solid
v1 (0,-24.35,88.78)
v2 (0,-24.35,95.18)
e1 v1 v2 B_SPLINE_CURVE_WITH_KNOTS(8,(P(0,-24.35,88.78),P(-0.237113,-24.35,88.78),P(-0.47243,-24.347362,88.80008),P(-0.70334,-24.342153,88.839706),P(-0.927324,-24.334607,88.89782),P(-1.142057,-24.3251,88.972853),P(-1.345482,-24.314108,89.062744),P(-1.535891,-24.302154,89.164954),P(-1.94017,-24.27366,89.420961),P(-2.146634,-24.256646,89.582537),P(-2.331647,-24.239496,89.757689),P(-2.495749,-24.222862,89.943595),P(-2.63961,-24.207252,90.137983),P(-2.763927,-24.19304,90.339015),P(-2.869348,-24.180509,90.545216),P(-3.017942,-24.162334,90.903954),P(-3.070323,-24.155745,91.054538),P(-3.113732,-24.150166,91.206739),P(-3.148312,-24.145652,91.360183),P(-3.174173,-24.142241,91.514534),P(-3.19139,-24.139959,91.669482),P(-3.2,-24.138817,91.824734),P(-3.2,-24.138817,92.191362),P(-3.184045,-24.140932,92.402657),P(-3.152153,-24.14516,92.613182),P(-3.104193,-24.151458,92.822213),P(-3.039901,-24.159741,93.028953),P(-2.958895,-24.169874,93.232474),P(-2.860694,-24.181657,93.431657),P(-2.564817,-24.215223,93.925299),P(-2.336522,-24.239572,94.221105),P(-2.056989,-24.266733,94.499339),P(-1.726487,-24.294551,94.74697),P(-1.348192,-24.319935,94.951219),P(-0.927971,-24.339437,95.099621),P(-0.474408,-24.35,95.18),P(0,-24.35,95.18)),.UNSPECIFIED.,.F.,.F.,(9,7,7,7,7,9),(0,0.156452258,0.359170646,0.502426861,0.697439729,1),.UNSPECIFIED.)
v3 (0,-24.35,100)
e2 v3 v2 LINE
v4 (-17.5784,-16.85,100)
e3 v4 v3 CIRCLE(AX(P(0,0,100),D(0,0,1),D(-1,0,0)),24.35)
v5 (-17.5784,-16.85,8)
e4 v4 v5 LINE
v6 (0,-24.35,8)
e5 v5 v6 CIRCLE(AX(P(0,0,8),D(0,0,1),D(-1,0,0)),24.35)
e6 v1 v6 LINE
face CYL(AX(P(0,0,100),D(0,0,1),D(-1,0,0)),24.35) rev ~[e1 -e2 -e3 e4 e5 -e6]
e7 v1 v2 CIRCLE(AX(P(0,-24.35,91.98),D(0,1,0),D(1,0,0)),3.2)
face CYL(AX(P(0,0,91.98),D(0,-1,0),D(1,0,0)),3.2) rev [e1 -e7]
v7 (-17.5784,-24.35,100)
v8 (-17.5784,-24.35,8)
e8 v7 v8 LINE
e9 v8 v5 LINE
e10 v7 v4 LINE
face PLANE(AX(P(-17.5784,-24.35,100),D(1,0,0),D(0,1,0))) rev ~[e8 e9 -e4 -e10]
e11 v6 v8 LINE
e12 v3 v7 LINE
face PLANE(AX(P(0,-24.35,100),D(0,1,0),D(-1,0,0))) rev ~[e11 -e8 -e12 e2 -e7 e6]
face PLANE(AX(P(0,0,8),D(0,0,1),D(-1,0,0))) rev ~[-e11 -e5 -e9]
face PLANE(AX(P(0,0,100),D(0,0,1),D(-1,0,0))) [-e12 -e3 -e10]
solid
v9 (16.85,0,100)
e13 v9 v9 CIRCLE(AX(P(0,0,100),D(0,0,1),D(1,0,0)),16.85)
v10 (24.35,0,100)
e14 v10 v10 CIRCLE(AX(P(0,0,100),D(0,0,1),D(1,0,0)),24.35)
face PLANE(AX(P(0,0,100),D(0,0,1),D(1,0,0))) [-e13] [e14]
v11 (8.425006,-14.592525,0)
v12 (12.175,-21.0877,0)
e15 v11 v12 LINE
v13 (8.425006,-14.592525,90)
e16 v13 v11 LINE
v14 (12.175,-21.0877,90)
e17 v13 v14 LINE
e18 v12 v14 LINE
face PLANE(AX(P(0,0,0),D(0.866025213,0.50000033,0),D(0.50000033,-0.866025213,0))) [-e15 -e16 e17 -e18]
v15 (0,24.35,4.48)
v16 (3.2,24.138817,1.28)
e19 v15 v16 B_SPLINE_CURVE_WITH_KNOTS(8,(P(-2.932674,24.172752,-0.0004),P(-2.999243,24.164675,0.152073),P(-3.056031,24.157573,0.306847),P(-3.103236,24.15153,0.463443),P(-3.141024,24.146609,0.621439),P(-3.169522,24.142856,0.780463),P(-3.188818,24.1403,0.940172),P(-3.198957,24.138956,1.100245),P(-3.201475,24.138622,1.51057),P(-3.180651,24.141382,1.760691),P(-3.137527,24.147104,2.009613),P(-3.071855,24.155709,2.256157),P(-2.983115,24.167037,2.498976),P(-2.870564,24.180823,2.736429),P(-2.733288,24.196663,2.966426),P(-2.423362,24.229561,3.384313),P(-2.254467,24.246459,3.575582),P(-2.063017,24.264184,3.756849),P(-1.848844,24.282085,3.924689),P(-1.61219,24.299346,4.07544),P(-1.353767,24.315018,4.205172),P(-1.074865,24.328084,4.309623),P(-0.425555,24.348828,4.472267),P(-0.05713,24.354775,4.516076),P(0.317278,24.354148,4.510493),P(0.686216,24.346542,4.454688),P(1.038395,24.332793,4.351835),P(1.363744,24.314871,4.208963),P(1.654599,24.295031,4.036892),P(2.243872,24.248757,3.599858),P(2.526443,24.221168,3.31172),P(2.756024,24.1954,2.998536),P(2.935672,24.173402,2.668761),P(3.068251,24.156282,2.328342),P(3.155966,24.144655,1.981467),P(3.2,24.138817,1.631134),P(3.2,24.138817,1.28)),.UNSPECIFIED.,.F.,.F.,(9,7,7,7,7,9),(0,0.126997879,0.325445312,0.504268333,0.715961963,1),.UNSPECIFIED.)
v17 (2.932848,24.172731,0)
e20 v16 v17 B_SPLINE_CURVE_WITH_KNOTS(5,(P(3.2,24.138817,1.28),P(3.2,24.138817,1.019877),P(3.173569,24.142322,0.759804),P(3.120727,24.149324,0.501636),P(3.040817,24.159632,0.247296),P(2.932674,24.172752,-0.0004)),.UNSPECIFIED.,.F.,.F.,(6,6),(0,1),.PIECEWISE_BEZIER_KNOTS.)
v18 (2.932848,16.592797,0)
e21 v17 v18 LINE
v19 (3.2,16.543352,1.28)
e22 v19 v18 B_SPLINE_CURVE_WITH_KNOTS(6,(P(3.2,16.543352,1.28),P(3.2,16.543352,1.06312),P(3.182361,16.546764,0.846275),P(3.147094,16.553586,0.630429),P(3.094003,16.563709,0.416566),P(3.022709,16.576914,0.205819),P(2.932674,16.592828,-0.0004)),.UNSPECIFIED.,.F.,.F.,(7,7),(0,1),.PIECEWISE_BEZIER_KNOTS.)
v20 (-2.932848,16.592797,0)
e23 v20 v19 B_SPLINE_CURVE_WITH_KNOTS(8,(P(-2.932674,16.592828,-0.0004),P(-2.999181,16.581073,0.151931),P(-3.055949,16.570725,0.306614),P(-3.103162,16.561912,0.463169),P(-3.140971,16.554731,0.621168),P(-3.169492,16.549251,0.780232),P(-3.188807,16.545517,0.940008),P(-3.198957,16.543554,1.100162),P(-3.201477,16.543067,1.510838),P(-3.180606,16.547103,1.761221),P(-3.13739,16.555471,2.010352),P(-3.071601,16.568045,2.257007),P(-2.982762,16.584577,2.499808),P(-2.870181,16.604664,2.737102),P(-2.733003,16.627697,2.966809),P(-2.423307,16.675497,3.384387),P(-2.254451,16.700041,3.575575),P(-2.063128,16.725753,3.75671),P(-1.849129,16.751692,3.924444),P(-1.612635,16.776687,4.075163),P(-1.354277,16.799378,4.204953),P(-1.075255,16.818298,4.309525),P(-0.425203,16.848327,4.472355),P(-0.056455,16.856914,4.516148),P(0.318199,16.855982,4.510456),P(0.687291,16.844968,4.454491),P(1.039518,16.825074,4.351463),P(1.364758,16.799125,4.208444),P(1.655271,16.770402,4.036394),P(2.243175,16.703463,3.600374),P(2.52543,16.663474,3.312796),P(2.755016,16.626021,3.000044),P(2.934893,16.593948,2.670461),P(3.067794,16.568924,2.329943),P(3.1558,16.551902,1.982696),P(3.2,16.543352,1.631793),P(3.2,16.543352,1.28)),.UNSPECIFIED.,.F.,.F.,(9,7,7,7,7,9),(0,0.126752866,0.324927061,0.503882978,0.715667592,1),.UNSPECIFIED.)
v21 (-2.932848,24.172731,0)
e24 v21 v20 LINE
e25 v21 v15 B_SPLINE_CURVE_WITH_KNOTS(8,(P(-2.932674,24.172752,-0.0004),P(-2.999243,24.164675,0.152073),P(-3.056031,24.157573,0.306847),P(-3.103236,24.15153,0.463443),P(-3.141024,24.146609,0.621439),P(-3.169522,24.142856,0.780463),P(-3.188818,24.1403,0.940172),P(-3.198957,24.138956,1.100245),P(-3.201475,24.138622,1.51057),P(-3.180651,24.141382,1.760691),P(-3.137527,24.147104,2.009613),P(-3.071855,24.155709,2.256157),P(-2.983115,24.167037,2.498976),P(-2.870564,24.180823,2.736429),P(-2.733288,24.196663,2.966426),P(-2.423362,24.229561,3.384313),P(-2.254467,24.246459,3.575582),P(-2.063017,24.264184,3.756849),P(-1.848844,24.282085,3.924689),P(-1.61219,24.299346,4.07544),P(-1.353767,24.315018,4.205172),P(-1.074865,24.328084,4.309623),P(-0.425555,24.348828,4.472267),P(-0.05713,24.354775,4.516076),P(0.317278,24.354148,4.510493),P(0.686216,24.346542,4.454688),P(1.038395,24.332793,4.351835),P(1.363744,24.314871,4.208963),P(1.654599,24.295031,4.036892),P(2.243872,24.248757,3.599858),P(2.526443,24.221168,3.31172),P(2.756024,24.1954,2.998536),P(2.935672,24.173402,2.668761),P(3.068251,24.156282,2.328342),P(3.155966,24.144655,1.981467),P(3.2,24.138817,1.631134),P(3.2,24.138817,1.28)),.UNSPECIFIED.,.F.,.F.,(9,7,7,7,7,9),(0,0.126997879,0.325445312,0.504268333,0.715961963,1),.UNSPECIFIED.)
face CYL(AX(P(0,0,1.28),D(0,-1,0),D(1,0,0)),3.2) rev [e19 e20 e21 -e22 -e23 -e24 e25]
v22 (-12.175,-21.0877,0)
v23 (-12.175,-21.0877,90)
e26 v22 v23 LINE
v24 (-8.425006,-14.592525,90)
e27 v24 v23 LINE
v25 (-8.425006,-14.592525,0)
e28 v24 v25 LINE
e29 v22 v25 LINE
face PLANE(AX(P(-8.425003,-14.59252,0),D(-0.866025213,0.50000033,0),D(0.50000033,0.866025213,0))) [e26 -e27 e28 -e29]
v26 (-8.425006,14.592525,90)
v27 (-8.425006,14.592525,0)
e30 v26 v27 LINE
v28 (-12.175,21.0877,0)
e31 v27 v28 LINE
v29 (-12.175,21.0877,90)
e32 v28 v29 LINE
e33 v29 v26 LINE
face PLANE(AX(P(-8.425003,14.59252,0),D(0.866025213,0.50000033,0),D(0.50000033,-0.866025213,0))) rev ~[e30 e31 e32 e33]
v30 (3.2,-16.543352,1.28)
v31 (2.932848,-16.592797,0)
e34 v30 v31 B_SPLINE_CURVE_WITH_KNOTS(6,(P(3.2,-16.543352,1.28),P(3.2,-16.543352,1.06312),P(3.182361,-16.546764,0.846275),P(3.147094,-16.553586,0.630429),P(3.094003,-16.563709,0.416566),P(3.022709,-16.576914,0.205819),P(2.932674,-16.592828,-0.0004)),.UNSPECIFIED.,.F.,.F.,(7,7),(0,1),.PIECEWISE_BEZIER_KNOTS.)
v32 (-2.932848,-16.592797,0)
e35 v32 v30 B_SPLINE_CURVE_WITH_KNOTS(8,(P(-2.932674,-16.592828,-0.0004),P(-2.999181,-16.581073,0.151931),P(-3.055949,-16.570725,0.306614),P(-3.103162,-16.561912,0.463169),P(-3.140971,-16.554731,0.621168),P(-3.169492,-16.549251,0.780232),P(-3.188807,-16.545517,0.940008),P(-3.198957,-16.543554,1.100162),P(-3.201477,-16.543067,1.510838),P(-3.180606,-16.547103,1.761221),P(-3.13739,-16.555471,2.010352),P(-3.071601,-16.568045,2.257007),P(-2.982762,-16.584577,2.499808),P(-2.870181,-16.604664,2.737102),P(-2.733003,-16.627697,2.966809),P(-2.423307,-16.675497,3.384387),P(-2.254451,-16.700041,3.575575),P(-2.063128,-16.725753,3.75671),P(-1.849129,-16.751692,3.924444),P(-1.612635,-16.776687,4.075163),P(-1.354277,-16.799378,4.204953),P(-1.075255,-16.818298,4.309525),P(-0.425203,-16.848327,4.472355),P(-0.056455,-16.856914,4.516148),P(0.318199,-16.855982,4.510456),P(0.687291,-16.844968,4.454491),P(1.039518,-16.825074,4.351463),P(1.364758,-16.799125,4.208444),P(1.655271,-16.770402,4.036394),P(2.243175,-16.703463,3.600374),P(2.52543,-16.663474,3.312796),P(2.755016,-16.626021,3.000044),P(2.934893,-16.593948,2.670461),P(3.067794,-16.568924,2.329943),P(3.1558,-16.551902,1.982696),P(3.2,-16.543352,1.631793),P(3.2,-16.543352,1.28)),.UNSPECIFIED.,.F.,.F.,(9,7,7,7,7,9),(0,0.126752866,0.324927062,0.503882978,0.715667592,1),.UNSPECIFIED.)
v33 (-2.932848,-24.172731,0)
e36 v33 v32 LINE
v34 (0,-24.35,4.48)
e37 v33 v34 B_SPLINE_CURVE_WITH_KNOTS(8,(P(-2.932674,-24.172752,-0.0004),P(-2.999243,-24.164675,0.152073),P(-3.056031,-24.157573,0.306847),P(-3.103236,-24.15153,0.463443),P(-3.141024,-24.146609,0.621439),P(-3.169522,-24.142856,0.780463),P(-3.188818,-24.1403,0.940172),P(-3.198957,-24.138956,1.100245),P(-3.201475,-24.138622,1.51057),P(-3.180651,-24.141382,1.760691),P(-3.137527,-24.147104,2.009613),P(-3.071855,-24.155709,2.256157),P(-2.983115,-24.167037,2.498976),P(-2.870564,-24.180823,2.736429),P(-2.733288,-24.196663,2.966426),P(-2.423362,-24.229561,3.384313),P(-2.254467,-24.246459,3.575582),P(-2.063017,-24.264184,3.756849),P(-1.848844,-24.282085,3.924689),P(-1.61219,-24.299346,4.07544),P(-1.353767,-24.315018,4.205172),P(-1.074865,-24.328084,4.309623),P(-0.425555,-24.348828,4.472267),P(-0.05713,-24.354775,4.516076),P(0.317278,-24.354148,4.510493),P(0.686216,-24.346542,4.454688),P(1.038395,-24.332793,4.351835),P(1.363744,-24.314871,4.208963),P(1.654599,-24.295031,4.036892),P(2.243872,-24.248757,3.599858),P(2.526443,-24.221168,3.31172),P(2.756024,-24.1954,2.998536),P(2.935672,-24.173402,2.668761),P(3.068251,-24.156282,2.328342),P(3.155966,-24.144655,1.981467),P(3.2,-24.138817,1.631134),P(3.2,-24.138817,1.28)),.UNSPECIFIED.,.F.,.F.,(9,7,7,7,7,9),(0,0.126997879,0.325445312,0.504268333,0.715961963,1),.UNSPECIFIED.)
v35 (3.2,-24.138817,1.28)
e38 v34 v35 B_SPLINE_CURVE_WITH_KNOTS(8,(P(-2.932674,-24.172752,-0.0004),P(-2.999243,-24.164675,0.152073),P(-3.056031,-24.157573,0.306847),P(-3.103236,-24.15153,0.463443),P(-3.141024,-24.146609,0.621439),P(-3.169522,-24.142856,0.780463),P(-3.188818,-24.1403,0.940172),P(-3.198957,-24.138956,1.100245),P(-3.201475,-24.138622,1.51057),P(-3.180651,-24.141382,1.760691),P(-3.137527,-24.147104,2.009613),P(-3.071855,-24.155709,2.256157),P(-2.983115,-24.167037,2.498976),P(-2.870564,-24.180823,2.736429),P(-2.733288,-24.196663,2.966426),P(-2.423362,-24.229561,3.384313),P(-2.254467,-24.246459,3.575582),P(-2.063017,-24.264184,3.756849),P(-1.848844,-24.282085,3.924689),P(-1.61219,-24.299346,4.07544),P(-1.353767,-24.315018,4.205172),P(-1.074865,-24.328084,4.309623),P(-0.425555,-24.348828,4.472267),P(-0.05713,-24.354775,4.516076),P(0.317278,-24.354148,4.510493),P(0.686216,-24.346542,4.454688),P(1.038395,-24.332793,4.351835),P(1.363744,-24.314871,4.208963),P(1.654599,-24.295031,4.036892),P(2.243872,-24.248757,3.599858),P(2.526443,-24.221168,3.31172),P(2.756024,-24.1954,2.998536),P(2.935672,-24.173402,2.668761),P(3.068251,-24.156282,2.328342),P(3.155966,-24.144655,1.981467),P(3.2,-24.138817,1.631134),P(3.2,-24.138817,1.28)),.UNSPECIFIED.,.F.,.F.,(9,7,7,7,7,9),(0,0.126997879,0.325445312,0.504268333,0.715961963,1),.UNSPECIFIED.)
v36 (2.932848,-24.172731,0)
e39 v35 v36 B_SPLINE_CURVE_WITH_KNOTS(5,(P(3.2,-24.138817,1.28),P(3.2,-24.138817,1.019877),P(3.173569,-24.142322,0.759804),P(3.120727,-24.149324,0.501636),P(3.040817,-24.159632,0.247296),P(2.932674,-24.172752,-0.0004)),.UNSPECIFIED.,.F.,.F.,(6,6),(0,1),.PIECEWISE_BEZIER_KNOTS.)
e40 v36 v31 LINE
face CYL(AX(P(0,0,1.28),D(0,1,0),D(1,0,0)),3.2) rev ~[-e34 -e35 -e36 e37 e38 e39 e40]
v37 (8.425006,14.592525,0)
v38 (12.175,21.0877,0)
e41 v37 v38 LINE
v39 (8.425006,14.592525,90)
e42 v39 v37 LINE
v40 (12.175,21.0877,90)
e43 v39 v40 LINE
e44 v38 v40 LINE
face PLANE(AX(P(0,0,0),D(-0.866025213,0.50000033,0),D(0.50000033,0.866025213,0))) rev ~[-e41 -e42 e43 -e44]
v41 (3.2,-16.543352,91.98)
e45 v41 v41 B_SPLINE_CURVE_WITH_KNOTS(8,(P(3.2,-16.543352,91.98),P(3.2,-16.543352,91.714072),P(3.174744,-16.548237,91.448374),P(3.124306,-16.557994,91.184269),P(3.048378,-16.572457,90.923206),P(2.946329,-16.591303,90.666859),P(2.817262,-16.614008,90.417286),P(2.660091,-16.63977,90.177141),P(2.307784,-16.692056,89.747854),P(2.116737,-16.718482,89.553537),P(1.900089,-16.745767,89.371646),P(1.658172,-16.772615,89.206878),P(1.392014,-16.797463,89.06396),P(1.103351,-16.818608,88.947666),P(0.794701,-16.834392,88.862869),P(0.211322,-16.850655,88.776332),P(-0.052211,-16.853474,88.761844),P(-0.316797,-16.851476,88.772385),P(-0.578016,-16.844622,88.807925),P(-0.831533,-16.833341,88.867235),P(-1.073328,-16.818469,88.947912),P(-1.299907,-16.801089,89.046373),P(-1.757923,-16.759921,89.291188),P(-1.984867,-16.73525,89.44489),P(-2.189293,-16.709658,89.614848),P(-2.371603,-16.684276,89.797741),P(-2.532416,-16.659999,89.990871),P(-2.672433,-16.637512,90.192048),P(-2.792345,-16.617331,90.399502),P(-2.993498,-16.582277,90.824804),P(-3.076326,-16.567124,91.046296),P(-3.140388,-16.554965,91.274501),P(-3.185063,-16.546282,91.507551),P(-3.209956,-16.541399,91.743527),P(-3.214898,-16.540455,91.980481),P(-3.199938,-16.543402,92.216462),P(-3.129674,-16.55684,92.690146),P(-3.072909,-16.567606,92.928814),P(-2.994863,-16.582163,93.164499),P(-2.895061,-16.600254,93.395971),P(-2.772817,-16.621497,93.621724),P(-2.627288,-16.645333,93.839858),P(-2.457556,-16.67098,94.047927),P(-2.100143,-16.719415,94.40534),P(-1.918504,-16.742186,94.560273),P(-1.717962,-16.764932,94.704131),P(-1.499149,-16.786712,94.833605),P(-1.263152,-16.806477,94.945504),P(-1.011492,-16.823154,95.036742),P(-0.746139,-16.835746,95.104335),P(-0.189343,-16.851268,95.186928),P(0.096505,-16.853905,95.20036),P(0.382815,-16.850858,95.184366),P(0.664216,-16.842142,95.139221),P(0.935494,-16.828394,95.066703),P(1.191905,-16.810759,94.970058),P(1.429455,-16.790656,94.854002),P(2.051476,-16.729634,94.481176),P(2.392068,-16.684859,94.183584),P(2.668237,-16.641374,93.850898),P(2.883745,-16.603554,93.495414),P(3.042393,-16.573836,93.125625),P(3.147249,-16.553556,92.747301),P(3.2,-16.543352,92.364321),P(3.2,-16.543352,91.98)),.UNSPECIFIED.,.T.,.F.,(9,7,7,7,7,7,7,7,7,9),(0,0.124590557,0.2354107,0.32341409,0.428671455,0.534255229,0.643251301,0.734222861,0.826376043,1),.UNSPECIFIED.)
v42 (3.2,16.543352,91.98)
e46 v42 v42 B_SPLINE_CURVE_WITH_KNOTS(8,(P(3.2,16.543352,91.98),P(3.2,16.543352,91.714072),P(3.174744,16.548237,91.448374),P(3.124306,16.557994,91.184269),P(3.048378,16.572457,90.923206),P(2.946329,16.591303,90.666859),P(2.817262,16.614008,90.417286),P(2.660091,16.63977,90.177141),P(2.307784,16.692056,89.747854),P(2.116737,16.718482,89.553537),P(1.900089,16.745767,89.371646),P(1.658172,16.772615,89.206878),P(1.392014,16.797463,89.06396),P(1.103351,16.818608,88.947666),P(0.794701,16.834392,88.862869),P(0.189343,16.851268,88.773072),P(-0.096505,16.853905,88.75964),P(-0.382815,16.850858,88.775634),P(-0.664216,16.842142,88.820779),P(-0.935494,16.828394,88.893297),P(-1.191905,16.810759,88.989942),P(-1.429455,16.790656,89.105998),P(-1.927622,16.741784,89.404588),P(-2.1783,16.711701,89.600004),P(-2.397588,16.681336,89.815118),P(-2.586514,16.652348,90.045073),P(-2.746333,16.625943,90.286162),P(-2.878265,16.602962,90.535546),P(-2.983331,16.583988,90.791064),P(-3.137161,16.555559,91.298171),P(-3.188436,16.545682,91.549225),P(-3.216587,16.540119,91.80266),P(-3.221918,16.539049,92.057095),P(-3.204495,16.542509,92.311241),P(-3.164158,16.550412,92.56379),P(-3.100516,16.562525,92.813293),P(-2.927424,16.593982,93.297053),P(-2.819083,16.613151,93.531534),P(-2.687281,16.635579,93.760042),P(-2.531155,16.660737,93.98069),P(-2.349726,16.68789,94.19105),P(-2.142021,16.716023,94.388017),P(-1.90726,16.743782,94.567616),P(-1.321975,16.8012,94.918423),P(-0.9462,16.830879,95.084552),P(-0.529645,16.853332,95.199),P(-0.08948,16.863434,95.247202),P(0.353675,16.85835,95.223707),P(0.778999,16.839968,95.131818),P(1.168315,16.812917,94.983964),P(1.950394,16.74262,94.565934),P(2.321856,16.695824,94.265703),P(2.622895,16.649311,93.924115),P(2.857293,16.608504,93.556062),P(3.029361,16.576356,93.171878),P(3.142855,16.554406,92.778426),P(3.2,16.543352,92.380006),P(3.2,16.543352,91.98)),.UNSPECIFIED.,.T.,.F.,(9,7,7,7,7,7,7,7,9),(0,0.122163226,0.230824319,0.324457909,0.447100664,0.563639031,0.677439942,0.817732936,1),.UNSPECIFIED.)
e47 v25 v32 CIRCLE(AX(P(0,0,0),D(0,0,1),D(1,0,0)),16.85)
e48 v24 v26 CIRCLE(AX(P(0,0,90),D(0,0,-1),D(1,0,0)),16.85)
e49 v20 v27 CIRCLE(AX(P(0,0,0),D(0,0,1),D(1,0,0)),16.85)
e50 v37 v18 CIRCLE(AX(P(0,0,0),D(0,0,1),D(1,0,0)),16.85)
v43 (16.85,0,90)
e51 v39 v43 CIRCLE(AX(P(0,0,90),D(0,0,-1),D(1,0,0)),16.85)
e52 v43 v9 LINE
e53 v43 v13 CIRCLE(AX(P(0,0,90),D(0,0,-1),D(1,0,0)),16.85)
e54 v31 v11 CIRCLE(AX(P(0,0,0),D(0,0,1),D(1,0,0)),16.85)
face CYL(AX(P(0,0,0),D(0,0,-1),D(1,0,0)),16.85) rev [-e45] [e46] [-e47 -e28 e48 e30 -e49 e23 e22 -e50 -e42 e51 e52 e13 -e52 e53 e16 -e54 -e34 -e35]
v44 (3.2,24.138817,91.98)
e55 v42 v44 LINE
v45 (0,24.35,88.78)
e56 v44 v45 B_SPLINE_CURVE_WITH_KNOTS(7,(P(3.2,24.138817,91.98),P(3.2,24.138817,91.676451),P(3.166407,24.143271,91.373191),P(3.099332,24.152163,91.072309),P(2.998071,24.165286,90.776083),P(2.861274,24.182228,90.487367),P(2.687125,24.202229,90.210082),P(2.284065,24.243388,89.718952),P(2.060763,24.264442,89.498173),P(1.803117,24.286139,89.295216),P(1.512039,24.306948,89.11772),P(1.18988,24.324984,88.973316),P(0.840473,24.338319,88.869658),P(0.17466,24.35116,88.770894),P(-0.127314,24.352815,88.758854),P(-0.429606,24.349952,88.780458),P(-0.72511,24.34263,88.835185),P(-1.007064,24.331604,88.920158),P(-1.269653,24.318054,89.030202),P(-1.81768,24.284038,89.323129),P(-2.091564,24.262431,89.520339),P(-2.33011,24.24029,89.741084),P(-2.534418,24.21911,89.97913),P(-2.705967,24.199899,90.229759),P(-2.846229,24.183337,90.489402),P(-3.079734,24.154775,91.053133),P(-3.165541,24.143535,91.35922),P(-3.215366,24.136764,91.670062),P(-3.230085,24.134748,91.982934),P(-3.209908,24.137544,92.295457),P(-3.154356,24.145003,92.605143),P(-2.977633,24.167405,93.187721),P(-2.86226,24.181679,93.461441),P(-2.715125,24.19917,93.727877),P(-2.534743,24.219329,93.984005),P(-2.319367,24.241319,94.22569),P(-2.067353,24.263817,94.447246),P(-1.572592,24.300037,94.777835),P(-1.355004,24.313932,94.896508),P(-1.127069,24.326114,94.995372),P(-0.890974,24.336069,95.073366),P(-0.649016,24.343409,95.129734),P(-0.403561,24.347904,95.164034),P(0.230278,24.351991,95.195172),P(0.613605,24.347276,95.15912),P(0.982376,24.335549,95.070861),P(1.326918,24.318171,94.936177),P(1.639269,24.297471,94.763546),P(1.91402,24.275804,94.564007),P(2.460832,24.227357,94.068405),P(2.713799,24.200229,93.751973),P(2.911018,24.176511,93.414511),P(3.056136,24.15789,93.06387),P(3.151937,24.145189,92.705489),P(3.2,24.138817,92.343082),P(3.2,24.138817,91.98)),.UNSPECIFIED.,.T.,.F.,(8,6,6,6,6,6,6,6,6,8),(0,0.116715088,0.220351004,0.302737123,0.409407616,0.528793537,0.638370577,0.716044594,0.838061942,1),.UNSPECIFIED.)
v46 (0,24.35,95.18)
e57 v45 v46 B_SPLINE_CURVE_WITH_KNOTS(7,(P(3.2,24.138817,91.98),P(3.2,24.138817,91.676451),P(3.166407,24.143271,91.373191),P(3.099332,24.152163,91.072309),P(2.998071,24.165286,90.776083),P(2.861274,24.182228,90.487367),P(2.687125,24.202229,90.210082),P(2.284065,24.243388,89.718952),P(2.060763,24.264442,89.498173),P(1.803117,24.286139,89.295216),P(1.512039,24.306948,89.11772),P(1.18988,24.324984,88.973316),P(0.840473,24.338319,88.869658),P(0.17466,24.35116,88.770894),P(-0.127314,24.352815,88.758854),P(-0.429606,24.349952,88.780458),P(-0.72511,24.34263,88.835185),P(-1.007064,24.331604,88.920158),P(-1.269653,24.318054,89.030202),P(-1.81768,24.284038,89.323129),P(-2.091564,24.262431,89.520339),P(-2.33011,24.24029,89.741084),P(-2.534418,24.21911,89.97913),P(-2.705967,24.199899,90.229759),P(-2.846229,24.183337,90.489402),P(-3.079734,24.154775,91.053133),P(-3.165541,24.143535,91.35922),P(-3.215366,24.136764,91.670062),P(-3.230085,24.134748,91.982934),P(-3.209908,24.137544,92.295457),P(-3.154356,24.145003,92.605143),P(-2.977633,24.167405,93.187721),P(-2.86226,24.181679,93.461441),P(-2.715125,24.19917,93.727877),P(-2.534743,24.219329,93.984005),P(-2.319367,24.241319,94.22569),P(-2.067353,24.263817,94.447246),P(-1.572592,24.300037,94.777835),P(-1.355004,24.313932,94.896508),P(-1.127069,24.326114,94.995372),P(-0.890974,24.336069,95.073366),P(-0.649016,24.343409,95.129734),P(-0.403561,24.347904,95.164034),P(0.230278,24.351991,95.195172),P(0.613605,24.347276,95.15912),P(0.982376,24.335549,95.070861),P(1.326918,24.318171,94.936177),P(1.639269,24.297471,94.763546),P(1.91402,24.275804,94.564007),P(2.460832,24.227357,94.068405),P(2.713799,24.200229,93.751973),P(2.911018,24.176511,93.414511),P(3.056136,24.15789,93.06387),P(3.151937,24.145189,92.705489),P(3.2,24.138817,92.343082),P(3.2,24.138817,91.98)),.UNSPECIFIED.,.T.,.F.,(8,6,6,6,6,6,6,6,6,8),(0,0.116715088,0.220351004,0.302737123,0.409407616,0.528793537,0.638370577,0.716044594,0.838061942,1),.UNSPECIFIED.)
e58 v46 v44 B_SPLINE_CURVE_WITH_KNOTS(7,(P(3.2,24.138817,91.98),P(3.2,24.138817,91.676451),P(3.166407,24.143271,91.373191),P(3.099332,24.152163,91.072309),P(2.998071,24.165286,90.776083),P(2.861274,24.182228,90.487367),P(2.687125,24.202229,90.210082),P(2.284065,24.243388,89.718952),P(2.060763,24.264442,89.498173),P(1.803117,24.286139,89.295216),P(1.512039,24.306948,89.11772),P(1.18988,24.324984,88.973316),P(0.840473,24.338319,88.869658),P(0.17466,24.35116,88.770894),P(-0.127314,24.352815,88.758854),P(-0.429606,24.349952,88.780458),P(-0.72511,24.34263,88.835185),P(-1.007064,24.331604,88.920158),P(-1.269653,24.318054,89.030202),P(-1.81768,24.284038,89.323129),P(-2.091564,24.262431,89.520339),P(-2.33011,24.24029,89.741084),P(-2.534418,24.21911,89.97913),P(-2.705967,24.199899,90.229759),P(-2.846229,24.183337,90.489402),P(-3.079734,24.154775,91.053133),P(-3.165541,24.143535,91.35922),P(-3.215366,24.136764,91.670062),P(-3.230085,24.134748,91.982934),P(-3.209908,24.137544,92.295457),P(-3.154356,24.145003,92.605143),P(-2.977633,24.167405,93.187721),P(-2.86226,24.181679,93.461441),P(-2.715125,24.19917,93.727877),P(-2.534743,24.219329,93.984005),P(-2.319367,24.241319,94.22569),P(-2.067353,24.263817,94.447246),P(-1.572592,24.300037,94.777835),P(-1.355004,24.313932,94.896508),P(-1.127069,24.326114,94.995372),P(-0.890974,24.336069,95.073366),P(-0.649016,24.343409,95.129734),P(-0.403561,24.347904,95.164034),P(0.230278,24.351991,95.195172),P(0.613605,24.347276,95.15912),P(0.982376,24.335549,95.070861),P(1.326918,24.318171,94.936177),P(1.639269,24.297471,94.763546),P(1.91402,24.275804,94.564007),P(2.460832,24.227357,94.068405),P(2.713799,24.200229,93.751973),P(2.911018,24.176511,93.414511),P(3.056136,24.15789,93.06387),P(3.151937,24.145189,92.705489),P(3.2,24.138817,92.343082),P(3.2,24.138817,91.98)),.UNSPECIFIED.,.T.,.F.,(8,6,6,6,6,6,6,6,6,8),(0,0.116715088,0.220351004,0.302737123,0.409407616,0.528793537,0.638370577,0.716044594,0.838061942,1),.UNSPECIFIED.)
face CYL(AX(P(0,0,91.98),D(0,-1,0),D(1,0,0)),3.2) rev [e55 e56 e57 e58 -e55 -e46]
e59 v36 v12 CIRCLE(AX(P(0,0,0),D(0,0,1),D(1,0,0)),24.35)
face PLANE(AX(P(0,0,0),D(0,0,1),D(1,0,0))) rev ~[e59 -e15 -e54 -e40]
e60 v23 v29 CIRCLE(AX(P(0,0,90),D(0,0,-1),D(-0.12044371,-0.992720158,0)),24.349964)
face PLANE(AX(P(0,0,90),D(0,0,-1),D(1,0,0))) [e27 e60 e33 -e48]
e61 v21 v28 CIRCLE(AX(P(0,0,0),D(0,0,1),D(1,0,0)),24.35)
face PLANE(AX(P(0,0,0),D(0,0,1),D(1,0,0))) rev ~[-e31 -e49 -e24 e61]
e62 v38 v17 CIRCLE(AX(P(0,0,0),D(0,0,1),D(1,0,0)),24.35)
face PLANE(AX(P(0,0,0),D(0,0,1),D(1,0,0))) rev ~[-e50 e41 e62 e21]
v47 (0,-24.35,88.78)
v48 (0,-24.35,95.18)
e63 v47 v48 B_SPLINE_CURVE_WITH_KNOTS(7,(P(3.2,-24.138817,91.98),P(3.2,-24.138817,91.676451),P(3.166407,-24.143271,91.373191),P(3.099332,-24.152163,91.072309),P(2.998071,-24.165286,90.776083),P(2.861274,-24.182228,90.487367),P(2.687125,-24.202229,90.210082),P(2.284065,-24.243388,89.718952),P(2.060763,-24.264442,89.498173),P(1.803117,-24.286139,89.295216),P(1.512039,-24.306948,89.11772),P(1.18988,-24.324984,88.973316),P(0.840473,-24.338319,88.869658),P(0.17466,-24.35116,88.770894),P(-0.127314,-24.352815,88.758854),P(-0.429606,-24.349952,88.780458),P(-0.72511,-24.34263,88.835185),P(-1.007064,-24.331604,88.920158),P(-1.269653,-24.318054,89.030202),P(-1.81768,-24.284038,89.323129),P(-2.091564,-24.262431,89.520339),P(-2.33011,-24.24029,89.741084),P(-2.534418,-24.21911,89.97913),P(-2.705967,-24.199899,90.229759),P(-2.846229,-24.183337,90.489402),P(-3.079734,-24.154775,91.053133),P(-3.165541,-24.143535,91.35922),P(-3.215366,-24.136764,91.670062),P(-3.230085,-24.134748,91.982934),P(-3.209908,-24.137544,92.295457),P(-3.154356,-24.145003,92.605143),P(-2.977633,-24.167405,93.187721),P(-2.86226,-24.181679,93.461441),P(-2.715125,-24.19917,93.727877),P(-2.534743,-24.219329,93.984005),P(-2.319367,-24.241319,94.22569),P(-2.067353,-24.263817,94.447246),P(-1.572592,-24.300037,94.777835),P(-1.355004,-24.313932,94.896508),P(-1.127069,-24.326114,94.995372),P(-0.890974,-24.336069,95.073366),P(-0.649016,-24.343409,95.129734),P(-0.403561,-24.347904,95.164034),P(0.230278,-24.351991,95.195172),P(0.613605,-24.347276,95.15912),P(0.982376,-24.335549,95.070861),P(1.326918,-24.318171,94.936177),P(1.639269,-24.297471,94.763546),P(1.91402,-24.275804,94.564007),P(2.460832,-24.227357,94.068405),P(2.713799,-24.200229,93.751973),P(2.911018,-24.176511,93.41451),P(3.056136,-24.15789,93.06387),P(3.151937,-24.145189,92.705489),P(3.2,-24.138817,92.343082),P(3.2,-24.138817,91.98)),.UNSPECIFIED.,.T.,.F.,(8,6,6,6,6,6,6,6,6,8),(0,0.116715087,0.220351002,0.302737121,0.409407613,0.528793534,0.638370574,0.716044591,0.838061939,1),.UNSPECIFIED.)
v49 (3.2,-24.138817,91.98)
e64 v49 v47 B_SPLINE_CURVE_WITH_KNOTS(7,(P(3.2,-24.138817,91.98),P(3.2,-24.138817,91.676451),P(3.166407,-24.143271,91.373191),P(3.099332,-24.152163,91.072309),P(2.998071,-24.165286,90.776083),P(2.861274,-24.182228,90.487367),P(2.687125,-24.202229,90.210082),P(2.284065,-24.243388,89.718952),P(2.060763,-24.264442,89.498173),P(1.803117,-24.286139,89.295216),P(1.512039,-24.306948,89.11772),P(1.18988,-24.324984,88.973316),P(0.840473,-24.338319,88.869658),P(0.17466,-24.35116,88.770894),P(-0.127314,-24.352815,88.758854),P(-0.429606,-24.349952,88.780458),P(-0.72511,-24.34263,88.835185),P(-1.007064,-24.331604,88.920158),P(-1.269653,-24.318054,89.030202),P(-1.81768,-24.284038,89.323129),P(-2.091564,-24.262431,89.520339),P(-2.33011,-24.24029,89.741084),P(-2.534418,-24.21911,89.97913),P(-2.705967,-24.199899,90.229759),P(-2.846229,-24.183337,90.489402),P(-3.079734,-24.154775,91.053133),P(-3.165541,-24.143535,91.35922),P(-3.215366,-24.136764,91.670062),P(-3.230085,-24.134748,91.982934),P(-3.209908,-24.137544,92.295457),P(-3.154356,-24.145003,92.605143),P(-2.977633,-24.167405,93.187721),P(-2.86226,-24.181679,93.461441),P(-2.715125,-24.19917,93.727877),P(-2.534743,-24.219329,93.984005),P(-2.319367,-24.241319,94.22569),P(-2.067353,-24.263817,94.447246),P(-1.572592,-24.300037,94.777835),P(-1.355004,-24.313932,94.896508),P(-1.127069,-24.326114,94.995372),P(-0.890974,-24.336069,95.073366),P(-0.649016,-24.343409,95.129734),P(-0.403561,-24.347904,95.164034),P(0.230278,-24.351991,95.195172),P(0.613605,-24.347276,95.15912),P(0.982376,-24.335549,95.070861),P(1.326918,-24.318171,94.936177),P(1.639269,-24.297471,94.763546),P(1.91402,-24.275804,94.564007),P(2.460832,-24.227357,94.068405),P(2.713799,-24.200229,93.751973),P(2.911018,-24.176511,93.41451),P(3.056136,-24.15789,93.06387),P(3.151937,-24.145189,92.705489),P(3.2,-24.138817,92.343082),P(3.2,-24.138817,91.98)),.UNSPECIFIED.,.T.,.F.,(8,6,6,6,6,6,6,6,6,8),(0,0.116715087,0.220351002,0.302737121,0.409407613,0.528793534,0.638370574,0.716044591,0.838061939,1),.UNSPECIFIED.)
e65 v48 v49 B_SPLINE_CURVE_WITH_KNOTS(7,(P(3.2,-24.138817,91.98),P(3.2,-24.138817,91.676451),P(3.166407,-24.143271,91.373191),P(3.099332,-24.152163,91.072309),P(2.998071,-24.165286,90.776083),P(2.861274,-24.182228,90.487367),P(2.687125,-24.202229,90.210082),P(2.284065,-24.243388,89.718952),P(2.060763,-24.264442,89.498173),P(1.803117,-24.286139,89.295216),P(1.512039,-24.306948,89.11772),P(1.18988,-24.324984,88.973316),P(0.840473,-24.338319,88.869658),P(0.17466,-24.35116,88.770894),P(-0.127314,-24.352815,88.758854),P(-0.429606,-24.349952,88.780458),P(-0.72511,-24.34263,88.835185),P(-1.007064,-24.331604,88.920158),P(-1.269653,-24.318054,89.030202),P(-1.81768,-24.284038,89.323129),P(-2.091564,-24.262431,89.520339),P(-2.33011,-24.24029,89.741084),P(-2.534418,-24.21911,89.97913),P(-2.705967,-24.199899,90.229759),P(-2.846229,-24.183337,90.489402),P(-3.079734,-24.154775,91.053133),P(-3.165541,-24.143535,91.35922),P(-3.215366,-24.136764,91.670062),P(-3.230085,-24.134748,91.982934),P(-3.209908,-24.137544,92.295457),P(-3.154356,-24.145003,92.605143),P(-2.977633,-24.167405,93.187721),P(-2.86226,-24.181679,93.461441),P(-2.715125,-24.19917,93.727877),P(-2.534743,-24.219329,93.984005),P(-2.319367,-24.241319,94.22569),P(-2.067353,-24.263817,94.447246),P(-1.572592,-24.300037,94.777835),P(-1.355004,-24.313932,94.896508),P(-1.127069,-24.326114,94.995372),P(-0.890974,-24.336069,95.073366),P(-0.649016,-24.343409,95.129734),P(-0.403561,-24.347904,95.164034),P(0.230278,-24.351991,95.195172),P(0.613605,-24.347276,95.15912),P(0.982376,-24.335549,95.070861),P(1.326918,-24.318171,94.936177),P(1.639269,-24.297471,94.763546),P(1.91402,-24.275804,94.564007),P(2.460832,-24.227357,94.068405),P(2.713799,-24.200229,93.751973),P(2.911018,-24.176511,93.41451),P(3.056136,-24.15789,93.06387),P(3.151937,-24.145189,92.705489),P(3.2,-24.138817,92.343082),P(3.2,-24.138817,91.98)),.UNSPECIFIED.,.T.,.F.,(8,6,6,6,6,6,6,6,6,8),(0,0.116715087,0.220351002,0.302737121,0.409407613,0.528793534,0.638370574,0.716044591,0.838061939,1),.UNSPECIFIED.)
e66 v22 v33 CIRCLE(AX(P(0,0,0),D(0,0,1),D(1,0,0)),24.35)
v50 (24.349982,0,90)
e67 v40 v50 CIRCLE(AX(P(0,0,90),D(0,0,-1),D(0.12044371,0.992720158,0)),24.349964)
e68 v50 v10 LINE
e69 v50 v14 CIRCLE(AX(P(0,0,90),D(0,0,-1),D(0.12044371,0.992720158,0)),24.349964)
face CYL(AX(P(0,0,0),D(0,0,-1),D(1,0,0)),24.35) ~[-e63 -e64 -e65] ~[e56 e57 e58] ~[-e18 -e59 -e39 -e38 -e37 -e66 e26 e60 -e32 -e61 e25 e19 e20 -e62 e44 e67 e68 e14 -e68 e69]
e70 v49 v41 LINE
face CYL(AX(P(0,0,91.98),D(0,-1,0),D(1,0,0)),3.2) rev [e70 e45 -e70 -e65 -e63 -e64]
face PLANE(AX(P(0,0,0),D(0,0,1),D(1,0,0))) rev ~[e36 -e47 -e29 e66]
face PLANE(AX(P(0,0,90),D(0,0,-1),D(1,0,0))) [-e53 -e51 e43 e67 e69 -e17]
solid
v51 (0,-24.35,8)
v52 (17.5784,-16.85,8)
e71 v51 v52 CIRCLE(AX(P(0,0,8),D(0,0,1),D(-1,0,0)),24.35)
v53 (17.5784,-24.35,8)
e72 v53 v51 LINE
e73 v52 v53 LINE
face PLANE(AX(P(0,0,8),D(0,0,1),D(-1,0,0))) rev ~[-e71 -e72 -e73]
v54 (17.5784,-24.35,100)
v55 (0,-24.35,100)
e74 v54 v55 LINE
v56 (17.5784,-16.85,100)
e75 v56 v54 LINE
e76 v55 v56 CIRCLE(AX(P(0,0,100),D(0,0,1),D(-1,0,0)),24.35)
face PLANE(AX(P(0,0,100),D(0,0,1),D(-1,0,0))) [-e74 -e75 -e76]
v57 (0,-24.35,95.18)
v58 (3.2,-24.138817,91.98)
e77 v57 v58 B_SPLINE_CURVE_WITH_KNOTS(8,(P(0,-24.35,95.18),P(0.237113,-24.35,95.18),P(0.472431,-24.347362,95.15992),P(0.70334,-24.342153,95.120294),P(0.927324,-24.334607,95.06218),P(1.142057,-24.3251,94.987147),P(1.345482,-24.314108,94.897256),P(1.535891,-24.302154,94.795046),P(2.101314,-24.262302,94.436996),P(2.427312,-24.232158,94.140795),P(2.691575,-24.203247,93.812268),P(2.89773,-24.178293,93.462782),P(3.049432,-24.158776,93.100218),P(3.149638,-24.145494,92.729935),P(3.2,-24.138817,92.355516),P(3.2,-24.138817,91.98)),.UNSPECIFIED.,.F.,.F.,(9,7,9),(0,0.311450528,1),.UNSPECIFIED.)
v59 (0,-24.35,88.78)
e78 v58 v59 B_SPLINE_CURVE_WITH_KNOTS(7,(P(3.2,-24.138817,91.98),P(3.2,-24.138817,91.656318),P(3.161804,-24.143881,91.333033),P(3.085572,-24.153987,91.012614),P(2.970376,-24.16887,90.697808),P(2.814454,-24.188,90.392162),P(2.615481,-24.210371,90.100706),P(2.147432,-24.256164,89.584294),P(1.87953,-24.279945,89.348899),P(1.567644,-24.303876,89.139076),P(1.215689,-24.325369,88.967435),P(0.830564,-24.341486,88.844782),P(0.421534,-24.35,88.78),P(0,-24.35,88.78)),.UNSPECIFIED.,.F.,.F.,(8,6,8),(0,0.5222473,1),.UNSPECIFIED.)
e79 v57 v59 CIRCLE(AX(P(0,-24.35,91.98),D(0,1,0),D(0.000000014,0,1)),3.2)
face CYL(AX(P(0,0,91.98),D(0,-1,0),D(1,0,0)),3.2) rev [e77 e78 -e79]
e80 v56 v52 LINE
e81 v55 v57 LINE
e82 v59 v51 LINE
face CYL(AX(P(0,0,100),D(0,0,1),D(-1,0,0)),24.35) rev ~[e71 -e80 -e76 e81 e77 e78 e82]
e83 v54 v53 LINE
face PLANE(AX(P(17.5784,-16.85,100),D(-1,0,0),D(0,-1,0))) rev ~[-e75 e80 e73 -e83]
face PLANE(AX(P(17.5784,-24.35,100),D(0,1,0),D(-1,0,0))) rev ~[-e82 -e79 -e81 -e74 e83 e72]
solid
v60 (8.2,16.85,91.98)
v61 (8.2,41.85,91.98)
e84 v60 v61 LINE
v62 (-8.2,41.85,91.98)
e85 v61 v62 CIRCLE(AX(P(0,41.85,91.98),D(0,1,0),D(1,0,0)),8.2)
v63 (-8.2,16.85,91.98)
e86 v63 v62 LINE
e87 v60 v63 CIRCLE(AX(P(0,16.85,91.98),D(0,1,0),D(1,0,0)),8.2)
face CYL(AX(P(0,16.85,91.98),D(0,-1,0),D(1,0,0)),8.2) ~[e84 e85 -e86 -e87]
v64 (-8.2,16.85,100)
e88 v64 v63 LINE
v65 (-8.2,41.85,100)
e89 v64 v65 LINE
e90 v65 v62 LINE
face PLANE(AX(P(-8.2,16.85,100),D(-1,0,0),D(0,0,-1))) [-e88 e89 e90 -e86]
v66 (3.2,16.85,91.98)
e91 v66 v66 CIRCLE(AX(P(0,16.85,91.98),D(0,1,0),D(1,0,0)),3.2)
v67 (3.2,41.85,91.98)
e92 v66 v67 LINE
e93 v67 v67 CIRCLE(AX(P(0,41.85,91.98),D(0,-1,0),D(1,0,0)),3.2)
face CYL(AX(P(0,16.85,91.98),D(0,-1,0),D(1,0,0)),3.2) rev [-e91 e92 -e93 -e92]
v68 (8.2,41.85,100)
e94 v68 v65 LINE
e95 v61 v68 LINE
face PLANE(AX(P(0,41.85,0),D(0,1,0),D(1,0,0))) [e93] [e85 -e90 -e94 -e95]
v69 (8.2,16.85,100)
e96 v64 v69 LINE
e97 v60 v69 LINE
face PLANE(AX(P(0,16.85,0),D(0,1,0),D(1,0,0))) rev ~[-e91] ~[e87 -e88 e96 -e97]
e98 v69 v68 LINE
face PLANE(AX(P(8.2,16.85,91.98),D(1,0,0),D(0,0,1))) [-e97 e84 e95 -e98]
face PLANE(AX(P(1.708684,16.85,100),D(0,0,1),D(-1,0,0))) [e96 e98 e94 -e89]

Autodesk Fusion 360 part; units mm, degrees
sketch "Main Body" plane through (0, 0, 0) normal (0, 0, 1) x (1, 0, 0)
  circle A0 centre (0, 0) radius 16.85
  circle A1 centre (0, 0) radius 24.35
  dimension "d1" = 33.7
  dimension "d2" = 48.7
extrude "Extrude1" add sketch "Main Body" along normal blind 100 makes body 1
sketch "Cut Guide" plane through (0, 0, 0) normal (0, 1, 0) x (1, 0, 0)
  circle A0 centre (0, -1.28) radius 3.2
  circle A1 centre (0, -91.98) radius 3.2
  circle A2 centre (0, -91.98) radius 8.2
  line L0 (-8.2, -91.98) -> (8.2, -91.98)
  line L1 (8.2, -91.98) -> (8.2, -100)
  line L2 (8.2, -100) -> (-8.2, -100)
  line L3 (-8.2, -100) -> (-8.2, -91.98)
  point P0 (0, -41.6319)
  dimension "d5" = 6.4
  dimension "d6" = 1.28
  dimension "d11" = 6.4
  dimension "d12" = 90.7
  dimension "d13" = 16.4
  dimension "d33" = 8.02
extrude "Extrude2" cut sketch "Cut Guide" along normal blind 24.35 and the other way blind 24.35 contours A0 bodies 1
extrude "Extrude3" add sketch "Cut Guide" along normal blind 25 from surface at 16.85 separate body contours A1 A2 L0 L2 | A1 A2 L0 | A2 L1 L2 | A2 L2 L3 makes body 2
sketch "Side Removal" plane through (0, 0, 0) normal (0, 0, -1) x (1, 0, 0)
  line L0 (-2.9328, 16.5928) -> (-2.9328, 24.1727)
  arc A0 (-2.9328, 24.1727) -> (-2.9328, -24.1727) centre (0, 0) ccw
  line L1 (-2.9328, -24.1727) -> (-2.9328, -16.5928)
  arc A1 (-2.9328, 16.5928) -> (-2.9328, -16.5928) centre (0, 0) ccw
  line L2 (-12.175, -21.0877) -> (12.175, 21.0877)
  arc A2 (2.9328, -24.1727) -> (2.9328, 24.1727) centre (0, 0) ccw
  line L3 (-12.175, 21.0877) -> (12.175, -21.0877)
  dimension "d19" = 120
extrude "Extrude4" cut sketch "Side Removal" against normal blind 90 contours L2 A2 L3 | A1 L2 L3 | A0 A1 L2 L3 bodies 1
sketch "Flat Bottom" plane through (0, 0, 100) normal (0, 0, 1) x (-1, 0, 0)
  circle A0 centre (0, 0) radius 16.85
  circle A1 centre (0, 0) radius 24.35
  line L0 (17.5784, 16.85) -> (-17.5784, 16.85)
  line L1 (-17.5784, 16.85) -> (-17.5784, 24.35)
  line L2 (-17.5784, 24.35) -> (17.5784, 24.35)
  line L3 (17.5784, 24.35) -> (17.5784, 16.85)
extrude "Extrude6" add sketch "Flat Bottom" against normal blind 92 separate body contours A1 L2 L3 | A1 L1 L2 makes body 3 at (-13.3955, -20.3343, 38.6667)
extrude "Extrude7" cut sketch "Cut Guide" along normal blind 24.35 and the other way blind 24.35 contours A1 L0 | A1 L0 bodies 1 3
equation "d2 = d1 + 15 mm"
equation "d3 = 100 mm"
equation "d6 = d5 / 5"
equation "d7 = d2 / 2"
equation "d9 = d2 / 2"
equation "d13 = d11 + 10 mm"
equation "d16 = ( d1 ) / 2"
equation "d21 = -( d3 - 10 mm )"
equation "d27 = -d3 + 8 mm"
equation "d29 = d2 / 2"
equation "d31 = d2 / 2"
equation "d33 = d3 - d12 - d6"
